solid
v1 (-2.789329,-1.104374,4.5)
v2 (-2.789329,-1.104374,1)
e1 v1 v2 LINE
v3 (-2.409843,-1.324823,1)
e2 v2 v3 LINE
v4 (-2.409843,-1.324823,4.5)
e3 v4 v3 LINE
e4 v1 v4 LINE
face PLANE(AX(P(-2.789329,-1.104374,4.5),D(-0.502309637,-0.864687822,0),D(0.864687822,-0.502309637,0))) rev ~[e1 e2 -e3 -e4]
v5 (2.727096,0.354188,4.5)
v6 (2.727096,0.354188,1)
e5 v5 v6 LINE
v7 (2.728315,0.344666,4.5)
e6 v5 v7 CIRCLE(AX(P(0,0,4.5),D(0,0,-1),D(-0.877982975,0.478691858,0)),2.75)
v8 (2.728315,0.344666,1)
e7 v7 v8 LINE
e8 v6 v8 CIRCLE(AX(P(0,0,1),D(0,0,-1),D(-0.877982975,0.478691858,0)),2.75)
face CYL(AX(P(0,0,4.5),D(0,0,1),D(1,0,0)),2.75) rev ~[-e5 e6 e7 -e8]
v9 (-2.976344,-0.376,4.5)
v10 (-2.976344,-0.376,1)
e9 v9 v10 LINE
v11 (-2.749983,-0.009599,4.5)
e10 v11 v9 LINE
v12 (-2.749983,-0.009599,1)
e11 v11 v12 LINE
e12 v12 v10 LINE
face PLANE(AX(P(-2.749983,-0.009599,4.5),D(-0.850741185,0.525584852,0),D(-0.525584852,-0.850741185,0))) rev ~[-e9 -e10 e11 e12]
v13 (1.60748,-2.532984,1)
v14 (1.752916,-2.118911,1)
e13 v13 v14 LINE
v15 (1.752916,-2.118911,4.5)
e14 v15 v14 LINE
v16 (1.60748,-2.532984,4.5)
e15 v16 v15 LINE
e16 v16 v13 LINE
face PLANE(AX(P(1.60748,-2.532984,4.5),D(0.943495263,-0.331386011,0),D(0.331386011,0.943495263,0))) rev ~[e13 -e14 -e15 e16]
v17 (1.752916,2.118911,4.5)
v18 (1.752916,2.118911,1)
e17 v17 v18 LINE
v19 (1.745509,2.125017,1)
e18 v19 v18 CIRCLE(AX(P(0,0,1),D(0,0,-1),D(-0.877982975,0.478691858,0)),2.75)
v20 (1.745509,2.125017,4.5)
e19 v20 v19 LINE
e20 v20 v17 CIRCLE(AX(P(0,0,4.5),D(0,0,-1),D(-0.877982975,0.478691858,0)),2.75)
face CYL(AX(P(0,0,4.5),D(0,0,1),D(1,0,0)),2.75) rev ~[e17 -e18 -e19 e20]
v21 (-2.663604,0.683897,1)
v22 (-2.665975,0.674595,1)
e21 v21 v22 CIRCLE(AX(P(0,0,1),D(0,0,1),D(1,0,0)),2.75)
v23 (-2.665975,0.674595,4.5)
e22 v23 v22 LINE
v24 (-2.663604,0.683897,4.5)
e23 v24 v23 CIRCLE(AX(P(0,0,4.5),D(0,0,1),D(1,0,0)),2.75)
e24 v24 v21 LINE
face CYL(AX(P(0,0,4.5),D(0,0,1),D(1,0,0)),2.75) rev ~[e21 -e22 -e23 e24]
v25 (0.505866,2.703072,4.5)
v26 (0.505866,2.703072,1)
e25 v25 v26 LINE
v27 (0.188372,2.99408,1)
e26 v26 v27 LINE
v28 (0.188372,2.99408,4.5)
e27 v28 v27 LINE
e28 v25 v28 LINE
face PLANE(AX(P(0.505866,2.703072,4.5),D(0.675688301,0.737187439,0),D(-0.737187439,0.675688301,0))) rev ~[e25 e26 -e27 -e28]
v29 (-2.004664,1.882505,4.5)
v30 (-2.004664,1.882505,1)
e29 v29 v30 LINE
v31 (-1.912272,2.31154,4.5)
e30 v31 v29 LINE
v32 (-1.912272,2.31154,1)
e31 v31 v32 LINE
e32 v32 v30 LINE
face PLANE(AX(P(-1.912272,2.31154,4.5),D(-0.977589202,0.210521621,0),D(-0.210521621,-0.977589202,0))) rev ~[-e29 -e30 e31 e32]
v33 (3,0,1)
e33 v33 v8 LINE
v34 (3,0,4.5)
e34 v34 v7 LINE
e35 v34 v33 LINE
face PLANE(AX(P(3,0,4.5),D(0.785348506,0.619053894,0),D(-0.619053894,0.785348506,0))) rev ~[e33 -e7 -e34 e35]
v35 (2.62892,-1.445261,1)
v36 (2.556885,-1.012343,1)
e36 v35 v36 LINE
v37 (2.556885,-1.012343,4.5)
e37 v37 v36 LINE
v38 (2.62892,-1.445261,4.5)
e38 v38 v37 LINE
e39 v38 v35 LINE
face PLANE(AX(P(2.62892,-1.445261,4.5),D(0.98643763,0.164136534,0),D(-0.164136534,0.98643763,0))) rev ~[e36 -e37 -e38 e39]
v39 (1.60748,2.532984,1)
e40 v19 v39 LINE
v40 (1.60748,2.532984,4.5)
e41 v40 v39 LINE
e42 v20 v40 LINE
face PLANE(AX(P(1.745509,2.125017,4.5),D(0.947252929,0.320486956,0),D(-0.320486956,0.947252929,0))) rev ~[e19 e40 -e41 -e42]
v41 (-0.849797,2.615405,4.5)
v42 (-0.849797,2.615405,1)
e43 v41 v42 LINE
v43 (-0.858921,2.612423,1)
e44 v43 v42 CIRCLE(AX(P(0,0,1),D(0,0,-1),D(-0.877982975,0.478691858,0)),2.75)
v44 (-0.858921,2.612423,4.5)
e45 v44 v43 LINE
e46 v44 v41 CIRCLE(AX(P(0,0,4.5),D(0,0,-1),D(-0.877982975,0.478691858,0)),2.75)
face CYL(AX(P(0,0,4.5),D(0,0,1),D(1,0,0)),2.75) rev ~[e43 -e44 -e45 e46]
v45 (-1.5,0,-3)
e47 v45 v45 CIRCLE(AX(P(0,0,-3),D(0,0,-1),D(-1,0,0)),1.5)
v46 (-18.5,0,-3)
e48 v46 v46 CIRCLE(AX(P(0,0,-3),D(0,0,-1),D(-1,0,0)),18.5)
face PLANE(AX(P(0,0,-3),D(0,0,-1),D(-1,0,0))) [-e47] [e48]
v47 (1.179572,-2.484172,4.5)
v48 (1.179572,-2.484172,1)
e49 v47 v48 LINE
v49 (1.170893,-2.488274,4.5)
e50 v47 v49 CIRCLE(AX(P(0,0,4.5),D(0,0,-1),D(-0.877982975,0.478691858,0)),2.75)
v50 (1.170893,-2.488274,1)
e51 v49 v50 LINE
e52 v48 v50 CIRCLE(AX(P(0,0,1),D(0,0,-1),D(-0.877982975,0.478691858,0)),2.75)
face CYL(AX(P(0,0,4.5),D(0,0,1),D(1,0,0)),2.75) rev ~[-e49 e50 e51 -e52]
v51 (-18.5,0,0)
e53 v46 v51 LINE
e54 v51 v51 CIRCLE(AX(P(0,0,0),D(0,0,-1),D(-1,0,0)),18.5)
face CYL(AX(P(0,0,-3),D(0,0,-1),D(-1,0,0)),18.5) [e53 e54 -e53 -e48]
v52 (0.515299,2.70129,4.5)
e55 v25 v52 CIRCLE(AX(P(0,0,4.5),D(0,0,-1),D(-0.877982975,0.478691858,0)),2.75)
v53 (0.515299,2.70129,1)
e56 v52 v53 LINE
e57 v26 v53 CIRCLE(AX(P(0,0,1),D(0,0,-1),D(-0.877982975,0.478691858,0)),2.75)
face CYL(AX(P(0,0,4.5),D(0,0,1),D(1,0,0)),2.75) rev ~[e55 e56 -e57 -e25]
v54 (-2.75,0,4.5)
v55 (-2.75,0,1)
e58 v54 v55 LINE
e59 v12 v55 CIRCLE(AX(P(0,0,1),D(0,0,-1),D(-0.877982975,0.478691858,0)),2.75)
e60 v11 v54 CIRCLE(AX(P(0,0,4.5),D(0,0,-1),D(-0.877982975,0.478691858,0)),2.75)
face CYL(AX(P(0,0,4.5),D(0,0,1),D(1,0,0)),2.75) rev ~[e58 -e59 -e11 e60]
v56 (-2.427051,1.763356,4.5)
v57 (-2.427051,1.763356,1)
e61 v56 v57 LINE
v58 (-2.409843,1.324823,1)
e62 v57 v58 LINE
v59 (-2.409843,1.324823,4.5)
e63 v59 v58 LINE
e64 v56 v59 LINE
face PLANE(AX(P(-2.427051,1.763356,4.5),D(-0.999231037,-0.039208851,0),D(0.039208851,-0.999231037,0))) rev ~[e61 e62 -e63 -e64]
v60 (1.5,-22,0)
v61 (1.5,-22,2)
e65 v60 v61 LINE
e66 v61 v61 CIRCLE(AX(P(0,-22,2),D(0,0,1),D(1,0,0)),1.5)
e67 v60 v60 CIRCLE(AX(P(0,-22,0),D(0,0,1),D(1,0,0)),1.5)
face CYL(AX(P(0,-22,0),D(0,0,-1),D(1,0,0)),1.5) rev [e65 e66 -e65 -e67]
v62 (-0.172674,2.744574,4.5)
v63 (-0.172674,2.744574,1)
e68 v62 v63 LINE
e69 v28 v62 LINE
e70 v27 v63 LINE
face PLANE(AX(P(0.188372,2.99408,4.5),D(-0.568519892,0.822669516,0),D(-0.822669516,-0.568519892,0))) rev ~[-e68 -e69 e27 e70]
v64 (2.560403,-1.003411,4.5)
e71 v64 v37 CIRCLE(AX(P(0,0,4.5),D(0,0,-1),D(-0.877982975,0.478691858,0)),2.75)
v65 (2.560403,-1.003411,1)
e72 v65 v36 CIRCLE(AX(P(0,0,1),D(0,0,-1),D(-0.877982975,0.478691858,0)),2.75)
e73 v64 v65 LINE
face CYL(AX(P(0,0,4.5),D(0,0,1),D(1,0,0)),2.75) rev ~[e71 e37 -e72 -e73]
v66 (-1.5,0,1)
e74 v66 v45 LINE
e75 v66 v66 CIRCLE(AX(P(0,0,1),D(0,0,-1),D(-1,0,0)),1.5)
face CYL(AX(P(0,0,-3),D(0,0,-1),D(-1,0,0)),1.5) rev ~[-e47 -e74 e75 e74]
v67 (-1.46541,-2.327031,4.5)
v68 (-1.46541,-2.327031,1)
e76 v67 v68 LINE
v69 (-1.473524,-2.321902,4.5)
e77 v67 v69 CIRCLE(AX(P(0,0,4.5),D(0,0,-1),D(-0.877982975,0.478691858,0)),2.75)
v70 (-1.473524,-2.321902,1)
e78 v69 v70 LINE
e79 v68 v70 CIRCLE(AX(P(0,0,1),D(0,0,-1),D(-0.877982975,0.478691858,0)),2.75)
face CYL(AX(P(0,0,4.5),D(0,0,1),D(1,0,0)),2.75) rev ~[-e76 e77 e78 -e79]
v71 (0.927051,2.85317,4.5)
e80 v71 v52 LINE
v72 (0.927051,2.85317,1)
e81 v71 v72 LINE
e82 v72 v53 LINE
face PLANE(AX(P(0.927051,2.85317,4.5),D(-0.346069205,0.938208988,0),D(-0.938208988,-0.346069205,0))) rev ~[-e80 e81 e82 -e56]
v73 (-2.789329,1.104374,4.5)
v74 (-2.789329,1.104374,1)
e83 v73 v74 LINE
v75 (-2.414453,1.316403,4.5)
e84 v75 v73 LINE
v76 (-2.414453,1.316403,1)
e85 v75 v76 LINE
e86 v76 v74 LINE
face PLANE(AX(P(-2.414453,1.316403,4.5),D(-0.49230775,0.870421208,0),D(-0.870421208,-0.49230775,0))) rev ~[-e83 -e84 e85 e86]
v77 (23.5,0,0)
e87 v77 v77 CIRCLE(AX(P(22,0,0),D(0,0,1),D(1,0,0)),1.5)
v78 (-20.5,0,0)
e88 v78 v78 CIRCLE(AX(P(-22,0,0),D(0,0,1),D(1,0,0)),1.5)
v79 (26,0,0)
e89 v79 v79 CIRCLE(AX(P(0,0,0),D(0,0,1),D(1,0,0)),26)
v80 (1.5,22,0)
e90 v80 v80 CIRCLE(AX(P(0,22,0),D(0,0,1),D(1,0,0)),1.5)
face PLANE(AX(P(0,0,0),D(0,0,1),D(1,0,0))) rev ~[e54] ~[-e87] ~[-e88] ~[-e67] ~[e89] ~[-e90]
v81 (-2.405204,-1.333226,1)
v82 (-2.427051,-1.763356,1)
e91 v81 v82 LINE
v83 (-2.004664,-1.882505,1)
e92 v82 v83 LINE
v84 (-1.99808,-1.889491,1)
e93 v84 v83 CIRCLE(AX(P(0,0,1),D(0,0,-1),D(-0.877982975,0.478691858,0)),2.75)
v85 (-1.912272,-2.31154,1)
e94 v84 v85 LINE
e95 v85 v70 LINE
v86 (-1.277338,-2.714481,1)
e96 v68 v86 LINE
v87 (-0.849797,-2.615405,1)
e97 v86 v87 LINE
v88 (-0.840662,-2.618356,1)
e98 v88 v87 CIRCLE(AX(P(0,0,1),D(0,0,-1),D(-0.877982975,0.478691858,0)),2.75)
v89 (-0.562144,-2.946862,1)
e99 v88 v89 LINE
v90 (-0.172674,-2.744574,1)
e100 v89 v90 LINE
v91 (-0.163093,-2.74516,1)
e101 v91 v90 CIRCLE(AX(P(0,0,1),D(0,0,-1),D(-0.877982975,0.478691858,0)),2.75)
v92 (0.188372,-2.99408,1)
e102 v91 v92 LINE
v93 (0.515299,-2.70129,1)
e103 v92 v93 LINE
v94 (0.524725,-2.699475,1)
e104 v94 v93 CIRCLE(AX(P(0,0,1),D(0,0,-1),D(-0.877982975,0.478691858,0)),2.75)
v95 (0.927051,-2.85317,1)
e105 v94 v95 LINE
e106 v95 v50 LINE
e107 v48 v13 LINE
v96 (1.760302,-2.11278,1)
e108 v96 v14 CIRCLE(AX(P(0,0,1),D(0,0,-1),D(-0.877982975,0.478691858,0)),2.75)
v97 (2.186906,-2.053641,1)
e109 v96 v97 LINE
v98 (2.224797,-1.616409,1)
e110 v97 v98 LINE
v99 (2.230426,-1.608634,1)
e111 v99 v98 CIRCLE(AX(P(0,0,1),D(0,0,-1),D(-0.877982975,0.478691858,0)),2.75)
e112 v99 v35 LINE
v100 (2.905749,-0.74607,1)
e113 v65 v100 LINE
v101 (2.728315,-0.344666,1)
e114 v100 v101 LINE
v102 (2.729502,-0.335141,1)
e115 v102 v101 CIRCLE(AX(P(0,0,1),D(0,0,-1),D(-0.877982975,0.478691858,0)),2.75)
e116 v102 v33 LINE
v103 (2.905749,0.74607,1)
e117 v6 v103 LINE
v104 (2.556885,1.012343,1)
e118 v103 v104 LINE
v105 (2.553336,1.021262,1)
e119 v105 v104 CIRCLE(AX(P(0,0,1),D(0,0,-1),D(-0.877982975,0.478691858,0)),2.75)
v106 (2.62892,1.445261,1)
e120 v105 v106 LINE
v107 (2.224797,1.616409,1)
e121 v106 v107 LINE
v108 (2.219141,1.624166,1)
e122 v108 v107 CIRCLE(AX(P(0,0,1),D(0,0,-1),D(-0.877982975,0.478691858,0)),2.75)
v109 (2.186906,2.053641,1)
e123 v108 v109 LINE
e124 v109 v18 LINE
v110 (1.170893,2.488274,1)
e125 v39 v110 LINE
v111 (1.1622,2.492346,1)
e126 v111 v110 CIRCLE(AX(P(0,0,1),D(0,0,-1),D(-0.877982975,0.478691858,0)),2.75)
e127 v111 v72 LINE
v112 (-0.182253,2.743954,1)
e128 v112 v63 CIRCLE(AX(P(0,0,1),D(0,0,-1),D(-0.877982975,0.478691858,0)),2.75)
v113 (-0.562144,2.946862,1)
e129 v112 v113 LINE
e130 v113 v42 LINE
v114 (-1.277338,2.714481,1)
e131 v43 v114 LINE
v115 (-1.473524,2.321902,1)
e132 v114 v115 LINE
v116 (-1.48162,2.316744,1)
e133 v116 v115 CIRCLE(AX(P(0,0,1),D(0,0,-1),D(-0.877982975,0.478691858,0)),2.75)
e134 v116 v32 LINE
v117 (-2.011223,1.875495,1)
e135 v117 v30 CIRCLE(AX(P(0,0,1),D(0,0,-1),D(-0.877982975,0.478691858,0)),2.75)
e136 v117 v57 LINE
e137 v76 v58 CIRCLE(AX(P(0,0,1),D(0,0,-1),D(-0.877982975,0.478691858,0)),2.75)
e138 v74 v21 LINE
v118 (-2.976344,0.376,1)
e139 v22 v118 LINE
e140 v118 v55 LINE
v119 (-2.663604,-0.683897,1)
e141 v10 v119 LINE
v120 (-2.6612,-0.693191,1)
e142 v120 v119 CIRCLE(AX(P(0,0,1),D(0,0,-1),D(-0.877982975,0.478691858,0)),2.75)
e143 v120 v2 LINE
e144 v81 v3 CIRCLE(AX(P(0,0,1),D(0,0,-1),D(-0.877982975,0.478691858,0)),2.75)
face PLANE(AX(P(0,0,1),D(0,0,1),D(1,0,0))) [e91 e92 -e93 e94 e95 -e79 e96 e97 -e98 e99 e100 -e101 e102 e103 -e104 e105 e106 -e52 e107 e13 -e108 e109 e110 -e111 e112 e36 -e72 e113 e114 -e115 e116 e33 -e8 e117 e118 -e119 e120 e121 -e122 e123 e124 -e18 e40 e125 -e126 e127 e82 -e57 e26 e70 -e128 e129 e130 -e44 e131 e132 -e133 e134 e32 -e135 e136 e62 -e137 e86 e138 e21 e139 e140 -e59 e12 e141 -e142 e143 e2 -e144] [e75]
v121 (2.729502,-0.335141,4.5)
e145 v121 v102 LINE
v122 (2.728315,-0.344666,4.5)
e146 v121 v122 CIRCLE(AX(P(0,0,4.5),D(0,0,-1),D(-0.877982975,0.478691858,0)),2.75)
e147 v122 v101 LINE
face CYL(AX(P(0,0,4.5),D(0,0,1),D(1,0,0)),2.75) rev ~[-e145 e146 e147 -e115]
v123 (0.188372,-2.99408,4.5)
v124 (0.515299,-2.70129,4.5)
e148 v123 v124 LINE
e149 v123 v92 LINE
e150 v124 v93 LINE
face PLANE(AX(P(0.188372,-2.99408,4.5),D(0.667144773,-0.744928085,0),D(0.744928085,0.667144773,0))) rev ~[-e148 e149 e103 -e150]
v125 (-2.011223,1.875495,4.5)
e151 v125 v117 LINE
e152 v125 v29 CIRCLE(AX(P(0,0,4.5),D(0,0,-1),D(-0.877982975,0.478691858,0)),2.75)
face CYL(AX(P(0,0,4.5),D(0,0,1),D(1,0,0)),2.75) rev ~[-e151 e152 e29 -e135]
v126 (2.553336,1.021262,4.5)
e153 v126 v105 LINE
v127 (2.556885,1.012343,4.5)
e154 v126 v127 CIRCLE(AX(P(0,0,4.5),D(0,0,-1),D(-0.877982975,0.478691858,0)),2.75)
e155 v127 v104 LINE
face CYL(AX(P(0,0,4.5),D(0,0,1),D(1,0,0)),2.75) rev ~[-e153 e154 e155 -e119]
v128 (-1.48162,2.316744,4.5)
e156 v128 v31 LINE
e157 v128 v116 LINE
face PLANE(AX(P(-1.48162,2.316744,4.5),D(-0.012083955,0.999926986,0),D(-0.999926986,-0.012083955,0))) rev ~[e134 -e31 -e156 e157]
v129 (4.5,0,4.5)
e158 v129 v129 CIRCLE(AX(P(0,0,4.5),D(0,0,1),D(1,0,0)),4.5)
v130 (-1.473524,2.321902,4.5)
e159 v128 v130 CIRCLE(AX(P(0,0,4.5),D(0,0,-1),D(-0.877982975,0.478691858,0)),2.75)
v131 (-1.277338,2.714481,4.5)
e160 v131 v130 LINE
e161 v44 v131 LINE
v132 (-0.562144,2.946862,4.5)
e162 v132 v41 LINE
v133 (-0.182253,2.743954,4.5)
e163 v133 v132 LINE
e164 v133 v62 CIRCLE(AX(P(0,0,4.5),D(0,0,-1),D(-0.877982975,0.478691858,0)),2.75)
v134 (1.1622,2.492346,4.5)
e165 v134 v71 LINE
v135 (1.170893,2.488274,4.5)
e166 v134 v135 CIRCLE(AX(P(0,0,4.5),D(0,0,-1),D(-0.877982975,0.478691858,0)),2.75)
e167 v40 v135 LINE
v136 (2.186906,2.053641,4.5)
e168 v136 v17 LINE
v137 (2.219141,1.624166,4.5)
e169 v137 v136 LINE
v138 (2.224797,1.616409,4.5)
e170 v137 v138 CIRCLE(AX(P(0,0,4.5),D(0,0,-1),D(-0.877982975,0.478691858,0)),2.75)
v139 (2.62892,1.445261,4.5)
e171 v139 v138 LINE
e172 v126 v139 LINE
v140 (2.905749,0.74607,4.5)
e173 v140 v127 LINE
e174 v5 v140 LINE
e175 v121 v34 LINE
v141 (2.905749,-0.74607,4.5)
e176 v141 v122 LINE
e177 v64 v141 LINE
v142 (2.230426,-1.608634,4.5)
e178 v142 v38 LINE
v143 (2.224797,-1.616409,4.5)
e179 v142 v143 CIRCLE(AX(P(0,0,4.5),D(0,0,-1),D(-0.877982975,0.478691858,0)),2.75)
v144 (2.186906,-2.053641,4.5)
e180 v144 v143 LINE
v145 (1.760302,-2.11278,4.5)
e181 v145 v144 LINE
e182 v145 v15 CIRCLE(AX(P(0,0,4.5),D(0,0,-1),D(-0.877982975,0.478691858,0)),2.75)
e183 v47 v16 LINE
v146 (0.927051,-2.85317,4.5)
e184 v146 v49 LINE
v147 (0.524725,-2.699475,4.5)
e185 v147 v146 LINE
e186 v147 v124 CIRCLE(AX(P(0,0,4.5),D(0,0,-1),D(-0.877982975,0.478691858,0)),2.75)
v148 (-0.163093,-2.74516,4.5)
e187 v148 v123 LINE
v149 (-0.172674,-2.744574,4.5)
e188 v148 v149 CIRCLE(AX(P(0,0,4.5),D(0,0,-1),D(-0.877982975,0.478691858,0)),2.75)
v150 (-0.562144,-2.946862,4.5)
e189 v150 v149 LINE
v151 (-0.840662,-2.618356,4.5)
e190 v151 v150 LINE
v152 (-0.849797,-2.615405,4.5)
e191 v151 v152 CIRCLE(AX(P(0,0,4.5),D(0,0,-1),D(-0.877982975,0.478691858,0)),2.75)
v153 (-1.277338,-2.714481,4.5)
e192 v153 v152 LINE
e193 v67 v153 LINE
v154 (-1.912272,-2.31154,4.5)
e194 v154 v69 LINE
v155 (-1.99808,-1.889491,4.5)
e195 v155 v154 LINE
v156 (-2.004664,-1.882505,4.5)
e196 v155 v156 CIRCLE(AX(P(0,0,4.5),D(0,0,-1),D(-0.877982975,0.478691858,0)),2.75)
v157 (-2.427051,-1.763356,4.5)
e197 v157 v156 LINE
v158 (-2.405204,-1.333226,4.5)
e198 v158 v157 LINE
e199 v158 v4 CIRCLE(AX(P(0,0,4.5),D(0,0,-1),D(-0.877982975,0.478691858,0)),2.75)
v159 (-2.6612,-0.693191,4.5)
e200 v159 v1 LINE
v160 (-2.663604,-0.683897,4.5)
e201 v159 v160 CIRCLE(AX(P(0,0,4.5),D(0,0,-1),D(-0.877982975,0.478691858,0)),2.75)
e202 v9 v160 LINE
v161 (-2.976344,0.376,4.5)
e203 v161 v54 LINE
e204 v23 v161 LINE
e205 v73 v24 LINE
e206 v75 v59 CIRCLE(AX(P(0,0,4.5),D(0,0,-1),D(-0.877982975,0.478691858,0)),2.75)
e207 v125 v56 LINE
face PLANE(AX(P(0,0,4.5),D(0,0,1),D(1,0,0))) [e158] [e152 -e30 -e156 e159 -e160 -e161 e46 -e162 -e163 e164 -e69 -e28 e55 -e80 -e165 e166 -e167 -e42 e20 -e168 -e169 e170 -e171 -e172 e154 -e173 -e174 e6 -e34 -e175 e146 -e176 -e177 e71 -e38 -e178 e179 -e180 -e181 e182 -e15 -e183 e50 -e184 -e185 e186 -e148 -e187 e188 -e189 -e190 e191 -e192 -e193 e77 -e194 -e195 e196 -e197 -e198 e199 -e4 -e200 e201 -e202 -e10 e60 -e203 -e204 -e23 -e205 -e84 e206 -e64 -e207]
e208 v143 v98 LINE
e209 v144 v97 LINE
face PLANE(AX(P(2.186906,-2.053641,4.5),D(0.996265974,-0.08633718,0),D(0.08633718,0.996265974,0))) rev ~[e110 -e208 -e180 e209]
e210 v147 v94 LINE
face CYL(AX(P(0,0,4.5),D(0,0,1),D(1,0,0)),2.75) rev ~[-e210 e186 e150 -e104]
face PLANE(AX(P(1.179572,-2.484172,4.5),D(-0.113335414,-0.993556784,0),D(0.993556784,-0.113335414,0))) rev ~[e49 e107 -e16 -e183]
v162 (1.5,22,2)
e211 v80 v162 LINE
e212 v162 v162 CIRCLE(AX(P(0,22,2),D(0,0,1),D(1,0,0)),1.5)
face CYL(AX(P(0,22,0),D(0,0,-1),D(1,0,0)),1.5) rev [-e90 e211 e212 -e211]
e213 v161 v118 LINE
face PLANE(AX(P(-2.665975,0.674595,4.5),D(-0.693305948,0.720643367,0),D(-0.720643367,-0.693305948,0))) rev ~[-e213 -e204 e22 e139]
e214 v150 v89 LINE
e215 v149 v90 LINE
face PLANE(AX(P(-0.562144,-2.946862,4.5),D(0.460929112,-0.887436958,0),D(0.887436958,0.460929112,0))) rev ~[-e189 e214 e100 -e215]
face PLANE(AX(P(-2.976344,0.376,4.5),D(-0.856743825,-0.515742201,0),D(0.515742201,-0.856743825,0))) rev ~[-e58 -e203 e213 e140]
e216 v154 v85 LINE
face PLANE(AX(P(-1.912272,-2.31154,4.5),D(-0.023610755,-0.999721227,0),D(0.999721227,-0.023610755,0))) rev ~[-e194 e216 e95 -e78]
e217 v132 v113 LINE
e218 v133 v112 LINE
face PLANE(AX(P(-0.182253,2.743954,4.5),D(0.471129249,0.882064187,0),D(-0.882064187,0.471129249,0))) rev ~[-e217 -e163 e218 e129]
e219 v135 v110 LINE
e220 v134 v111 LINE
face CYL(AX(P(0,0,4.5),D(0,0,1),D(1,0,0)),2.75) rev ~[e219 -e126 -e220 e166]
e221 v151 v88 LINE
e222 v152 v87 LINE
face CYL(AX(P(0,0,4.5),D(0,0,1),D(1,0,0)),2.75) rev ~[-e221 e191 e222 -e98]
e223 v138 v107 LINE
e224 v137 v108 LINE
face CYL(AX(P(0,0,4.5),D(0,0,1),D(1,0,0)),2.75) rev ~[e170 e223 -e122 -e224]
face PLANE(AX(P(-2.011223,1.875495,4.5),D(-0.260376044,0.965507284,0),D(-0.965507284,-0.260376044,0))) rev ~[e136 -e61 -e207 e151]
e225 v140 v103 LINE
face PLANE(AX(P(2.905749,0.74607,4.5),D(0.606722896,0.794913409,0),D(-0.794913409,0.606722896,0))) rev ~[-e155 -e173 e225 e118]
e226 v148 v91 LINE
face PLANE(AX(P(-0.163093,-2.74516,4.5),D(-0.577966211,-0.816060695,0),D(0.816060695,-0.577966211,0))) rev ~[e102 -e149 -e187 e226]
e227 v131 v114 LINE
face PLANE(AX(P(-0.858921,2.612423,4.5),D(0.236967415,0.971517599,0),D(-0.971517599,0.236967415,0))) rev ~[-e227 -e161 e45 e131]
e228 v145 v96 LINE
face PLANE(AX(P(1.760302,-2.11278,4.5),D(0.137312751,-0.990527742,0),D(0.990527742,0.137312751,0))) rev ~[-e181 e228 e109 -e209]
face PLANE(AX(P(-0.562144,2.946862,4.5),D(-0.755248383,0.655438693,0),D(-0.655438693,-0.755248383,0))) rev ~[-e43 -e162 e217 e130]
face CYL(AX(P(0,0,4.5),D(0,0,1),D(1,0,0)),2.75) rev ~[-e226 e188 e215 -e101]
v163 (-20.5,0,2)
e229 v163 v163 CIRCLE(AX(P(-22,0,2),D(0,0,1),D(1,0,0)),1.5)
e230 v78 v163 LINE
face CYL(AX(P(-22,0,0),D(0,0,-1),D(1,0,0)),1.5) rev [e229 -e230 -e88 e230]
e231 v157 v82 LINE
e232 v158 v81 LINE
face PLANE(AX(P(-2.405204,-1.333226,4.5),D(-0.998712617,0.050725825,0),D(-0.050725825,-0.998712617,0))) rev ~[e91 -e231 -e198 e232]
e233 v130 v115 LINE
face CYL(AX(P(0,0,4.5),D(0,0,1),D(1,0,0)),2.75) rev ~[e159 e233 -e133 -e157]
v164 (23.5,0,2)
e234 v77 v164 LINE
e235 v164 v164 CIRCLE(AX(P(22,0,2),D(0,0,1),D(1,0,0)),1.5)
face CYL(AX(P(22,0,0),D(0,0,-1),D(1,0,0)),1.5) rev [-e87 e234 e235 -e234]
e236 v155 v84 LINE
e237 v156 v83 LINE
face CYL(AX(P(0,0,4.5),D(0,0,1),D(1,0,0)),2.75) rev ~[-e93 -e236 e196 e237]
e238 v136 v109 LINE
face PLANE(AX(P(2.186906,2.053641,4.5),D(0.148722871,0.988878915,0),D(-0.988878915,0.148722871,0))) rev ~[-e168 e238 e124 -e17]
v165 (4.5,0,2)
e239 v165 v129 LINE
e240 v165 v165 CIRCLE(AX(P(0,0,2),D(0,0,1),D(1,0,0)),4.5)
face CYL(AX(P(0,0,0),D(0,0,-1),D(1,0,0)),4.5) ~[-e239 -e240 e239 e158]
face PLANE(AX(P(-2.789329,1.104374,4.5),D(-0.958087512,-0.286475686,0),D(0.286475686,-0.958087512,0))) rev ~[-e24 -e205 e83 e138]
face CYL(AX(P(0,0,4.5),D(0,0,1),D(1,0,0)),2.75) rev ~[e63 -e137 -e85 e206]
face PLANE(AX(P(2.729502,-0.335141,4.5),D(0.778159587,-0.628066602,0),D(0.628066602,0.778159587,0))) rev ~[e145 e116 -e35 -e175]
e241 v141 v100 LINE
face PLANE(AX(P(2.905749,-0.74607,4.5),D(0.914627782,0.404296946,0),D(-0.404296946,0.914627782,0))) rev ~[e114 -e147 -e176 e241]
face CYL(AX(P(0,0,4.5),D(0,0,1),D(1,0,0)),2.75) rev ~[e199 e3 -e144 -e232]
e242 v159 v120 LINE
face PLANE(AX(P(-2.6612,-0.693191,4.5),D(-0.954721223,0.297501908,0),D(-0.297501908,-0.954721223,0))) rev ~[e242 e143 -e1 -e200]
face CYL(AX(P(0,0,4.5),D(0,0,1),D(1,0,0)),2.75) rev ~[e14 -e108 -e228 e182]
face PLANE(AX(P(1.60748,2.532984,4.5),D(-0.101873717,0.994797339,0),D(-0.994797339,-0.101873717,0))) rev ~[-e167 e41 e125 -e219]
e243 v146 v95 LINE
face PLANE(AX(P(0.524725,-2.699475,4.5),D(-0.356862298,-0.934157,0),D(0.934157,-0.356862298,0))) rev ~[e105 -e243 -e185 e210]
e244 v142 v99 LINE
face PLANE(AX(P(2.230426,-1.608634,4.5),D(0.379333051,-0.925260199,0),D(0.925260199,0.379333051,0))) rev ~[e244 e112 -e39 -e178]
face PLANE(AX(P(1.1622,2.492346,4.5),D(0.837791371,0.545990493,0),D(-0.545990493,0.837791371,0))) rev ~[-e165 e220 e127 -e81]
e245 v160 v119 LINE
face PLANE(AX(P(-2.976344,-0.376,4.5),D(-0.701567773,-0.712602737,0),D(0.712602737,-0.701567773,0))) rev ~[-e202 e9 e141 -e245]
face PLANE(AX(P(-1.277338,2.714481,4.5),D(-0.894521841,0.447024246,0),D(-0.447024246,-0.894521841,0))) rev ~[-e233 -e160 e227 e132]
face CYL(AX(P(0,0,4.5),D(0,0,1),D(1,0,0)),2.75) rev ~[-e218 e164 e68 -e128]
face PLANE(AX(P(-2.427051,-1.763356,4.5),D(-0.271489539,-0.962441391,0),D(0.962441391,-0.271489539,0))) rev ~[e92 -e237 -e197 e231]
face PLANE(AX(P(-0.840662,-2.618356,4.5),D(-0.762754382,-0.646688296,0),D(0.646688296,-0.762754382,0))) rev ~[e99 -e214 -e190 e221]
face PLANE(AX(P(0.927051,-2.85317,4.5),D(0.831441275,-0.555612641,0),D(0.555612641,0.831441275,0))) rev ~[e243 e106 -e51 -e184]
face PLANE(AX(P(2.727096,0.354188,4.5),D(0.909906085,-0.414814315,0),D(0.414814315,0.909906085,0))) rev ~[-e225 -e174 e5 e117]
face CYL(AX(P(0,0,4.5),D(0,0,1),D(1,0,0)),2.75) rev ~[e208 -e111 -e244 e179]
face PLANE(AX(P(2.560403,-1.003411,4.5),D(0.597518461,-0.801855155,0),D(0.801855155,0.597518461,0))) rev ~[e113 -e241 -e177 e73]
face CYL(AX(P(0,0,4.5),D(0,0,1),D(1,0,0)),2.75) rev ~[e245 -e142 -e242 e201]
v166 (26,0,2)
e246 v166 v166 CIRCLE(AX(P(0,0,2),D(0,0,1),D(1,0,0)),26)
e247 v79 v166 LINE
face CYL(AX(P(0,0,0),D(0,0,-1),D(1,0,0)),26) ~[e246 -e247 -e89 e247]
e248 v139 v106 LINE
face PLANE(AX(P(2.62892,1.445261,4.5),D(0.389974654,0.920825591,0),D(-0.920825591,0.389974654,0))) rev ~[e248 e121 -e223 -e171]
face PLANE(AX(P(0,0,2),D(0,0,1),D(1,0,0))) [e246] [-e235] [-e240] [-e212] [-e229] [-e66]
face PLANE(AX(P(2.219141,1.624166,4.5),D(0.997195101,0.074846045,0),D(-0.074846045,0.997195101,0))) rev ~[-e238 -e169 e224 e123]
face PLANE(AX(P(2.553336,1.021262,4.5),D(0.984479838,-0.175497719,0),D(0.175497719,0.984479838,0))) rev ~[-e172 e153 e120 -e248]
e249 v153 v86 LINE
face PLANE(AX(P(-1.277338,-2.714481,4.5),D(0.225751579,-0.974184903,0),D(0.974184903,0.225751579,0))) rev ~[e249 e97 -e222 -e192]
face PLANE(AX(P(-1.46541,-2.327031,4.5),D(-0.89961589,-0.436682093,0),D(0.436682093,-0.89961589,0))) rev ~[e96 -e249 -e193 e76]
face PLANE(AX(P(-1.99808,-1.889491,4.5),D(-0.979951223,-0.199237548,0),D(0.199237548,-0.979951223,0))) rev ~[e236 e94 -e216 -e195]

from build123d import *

# Parameters (mm, degrees)
SKETCH1_R           = 26
SKETCH1_R_2         = 1.5
SKETCH1_R_3         = 4.5
BOSS_EXTRUDE1_DEPTH = 2
SKETCH1_2_R         = 4.5
BOSS_EXTRUDE2_DEPTH = 4.5
SKETCH2_R           = 1.5
CUT_EXTRUDE1_DEPTH  = 4.5
SKETCH3_R           = 2.75
CUT_EXTRUDE2_DEPTH  = 3.5
CUT_EXTRUDE3_DEPTH  = 3.5
CIRPATTERN1_COUNT   = 25
BOSS_EXTRUDE3_START = 3
SKETCH5_R           = 18.5
SKETCH5_R_2         = 1.5
BOSS_EXTRUDE3_DEPTH = 3


with BuildPart() as part:
    # Sketch1 → Boss-Extrude1 (new body)
    with BuildSketch(Plane.XY):
        Circle(SKETCH1_R)
        with Locations((0, 22)):
            Circle(SKETCH1_R_2, mode=Mode.SUBTRACT)
        with Locations((22, 0)):
            Circle(SKETCH1_R_2, mode=Mode.SUBTRACT)
        with Locations((0, -22)):
            Circle(SKETCH1_R_2, mode=Mode.SUBTRACT)
        with Locations((-22, 0)):
            Circle(SKETCH1_R_2, mode=Mode.SUBTRACT)
        Circle(SKETCH1_R_3, mode=Mode.SUBTRACT)
    extrude(amount=BOSS_EXTRUDE1_DEPTH)

    # Sketch1<2> → Boss-Extrude2 (add)
    with BuildSketch(Plane.XY):
        Circle(SKETCH1_2_R)
    extrude(amount=BOSS_EXTRUDE2_DEPTH)

    # Sketch2 → Cut-Extrude1 (cut)
    with BuildSketch(Plane(origin=(0, 0, 0), x_dir=(-1, 0, 0), z_dir=(0, 0, -1))):
        Circle(SKETCH2_R)
    extrude(amount=-CUT_EXTRUDE1_DEPTH, mode=Mode.SUBTRACT)

    # Sketch3 → Cut-Extrude2 (cut)
    with BuildSketch(Plane.XY.offset(4.5)):
        Circle(SKETCH3_R)
    extrude(amount=-CUT_EXTRUDE2_DEPTH, mode=Mode.SUBTRACT)

    # Sketch4 → Cut-Extrude3 (cut)
    with BuildSketch(Plane.XY.offset(4.5)):
        with BuildLine():
            Line((-2.976344104, 0.375999701), (-2.75, 0))
            ThreePointArc((-2.75, 0), (-2.728912829, 0.339904061), (-2.665974712, 0.674595311))
            Line((-2.665974712, 0.674595311), (-2.976344104, 0.375999701))
        make_face()
    cut_extrude3 = extrude(amount=-CUT_EXTRUDE3_DEPTH, mode=Mode.SUBTRACT)

    # CirPattern1: Cut-Extrude3 ×25 about axis
    cirpattern1_axis = Axis((0, 0, 4.5), (0, 0, -1))
    for i in range(1, CIRPATTERN1_COUNT):
        add(cut_extrude3.rotate(cirpattern1_axis, i * 360 / CIRPATTERN1_COUNT), mode=Mode.SUBTRACT)

    # Sketch5 → Boss-Extrude3 (add)
    with BuildSketch(Plane(origin=(0, 0, 0), x_dir=(-1, 0, 0), z_dir=(0, 0, -1)).offset(BOSS_EXTRUDE3_START)):
        Circle(SKETCH5_R)
        Circle(SKETCH5_R_2, mode=Mode.SUBTRACT)
    extrude(amount=-BOSS_EXTRUDE3_DEPTH)


solid = part.part
